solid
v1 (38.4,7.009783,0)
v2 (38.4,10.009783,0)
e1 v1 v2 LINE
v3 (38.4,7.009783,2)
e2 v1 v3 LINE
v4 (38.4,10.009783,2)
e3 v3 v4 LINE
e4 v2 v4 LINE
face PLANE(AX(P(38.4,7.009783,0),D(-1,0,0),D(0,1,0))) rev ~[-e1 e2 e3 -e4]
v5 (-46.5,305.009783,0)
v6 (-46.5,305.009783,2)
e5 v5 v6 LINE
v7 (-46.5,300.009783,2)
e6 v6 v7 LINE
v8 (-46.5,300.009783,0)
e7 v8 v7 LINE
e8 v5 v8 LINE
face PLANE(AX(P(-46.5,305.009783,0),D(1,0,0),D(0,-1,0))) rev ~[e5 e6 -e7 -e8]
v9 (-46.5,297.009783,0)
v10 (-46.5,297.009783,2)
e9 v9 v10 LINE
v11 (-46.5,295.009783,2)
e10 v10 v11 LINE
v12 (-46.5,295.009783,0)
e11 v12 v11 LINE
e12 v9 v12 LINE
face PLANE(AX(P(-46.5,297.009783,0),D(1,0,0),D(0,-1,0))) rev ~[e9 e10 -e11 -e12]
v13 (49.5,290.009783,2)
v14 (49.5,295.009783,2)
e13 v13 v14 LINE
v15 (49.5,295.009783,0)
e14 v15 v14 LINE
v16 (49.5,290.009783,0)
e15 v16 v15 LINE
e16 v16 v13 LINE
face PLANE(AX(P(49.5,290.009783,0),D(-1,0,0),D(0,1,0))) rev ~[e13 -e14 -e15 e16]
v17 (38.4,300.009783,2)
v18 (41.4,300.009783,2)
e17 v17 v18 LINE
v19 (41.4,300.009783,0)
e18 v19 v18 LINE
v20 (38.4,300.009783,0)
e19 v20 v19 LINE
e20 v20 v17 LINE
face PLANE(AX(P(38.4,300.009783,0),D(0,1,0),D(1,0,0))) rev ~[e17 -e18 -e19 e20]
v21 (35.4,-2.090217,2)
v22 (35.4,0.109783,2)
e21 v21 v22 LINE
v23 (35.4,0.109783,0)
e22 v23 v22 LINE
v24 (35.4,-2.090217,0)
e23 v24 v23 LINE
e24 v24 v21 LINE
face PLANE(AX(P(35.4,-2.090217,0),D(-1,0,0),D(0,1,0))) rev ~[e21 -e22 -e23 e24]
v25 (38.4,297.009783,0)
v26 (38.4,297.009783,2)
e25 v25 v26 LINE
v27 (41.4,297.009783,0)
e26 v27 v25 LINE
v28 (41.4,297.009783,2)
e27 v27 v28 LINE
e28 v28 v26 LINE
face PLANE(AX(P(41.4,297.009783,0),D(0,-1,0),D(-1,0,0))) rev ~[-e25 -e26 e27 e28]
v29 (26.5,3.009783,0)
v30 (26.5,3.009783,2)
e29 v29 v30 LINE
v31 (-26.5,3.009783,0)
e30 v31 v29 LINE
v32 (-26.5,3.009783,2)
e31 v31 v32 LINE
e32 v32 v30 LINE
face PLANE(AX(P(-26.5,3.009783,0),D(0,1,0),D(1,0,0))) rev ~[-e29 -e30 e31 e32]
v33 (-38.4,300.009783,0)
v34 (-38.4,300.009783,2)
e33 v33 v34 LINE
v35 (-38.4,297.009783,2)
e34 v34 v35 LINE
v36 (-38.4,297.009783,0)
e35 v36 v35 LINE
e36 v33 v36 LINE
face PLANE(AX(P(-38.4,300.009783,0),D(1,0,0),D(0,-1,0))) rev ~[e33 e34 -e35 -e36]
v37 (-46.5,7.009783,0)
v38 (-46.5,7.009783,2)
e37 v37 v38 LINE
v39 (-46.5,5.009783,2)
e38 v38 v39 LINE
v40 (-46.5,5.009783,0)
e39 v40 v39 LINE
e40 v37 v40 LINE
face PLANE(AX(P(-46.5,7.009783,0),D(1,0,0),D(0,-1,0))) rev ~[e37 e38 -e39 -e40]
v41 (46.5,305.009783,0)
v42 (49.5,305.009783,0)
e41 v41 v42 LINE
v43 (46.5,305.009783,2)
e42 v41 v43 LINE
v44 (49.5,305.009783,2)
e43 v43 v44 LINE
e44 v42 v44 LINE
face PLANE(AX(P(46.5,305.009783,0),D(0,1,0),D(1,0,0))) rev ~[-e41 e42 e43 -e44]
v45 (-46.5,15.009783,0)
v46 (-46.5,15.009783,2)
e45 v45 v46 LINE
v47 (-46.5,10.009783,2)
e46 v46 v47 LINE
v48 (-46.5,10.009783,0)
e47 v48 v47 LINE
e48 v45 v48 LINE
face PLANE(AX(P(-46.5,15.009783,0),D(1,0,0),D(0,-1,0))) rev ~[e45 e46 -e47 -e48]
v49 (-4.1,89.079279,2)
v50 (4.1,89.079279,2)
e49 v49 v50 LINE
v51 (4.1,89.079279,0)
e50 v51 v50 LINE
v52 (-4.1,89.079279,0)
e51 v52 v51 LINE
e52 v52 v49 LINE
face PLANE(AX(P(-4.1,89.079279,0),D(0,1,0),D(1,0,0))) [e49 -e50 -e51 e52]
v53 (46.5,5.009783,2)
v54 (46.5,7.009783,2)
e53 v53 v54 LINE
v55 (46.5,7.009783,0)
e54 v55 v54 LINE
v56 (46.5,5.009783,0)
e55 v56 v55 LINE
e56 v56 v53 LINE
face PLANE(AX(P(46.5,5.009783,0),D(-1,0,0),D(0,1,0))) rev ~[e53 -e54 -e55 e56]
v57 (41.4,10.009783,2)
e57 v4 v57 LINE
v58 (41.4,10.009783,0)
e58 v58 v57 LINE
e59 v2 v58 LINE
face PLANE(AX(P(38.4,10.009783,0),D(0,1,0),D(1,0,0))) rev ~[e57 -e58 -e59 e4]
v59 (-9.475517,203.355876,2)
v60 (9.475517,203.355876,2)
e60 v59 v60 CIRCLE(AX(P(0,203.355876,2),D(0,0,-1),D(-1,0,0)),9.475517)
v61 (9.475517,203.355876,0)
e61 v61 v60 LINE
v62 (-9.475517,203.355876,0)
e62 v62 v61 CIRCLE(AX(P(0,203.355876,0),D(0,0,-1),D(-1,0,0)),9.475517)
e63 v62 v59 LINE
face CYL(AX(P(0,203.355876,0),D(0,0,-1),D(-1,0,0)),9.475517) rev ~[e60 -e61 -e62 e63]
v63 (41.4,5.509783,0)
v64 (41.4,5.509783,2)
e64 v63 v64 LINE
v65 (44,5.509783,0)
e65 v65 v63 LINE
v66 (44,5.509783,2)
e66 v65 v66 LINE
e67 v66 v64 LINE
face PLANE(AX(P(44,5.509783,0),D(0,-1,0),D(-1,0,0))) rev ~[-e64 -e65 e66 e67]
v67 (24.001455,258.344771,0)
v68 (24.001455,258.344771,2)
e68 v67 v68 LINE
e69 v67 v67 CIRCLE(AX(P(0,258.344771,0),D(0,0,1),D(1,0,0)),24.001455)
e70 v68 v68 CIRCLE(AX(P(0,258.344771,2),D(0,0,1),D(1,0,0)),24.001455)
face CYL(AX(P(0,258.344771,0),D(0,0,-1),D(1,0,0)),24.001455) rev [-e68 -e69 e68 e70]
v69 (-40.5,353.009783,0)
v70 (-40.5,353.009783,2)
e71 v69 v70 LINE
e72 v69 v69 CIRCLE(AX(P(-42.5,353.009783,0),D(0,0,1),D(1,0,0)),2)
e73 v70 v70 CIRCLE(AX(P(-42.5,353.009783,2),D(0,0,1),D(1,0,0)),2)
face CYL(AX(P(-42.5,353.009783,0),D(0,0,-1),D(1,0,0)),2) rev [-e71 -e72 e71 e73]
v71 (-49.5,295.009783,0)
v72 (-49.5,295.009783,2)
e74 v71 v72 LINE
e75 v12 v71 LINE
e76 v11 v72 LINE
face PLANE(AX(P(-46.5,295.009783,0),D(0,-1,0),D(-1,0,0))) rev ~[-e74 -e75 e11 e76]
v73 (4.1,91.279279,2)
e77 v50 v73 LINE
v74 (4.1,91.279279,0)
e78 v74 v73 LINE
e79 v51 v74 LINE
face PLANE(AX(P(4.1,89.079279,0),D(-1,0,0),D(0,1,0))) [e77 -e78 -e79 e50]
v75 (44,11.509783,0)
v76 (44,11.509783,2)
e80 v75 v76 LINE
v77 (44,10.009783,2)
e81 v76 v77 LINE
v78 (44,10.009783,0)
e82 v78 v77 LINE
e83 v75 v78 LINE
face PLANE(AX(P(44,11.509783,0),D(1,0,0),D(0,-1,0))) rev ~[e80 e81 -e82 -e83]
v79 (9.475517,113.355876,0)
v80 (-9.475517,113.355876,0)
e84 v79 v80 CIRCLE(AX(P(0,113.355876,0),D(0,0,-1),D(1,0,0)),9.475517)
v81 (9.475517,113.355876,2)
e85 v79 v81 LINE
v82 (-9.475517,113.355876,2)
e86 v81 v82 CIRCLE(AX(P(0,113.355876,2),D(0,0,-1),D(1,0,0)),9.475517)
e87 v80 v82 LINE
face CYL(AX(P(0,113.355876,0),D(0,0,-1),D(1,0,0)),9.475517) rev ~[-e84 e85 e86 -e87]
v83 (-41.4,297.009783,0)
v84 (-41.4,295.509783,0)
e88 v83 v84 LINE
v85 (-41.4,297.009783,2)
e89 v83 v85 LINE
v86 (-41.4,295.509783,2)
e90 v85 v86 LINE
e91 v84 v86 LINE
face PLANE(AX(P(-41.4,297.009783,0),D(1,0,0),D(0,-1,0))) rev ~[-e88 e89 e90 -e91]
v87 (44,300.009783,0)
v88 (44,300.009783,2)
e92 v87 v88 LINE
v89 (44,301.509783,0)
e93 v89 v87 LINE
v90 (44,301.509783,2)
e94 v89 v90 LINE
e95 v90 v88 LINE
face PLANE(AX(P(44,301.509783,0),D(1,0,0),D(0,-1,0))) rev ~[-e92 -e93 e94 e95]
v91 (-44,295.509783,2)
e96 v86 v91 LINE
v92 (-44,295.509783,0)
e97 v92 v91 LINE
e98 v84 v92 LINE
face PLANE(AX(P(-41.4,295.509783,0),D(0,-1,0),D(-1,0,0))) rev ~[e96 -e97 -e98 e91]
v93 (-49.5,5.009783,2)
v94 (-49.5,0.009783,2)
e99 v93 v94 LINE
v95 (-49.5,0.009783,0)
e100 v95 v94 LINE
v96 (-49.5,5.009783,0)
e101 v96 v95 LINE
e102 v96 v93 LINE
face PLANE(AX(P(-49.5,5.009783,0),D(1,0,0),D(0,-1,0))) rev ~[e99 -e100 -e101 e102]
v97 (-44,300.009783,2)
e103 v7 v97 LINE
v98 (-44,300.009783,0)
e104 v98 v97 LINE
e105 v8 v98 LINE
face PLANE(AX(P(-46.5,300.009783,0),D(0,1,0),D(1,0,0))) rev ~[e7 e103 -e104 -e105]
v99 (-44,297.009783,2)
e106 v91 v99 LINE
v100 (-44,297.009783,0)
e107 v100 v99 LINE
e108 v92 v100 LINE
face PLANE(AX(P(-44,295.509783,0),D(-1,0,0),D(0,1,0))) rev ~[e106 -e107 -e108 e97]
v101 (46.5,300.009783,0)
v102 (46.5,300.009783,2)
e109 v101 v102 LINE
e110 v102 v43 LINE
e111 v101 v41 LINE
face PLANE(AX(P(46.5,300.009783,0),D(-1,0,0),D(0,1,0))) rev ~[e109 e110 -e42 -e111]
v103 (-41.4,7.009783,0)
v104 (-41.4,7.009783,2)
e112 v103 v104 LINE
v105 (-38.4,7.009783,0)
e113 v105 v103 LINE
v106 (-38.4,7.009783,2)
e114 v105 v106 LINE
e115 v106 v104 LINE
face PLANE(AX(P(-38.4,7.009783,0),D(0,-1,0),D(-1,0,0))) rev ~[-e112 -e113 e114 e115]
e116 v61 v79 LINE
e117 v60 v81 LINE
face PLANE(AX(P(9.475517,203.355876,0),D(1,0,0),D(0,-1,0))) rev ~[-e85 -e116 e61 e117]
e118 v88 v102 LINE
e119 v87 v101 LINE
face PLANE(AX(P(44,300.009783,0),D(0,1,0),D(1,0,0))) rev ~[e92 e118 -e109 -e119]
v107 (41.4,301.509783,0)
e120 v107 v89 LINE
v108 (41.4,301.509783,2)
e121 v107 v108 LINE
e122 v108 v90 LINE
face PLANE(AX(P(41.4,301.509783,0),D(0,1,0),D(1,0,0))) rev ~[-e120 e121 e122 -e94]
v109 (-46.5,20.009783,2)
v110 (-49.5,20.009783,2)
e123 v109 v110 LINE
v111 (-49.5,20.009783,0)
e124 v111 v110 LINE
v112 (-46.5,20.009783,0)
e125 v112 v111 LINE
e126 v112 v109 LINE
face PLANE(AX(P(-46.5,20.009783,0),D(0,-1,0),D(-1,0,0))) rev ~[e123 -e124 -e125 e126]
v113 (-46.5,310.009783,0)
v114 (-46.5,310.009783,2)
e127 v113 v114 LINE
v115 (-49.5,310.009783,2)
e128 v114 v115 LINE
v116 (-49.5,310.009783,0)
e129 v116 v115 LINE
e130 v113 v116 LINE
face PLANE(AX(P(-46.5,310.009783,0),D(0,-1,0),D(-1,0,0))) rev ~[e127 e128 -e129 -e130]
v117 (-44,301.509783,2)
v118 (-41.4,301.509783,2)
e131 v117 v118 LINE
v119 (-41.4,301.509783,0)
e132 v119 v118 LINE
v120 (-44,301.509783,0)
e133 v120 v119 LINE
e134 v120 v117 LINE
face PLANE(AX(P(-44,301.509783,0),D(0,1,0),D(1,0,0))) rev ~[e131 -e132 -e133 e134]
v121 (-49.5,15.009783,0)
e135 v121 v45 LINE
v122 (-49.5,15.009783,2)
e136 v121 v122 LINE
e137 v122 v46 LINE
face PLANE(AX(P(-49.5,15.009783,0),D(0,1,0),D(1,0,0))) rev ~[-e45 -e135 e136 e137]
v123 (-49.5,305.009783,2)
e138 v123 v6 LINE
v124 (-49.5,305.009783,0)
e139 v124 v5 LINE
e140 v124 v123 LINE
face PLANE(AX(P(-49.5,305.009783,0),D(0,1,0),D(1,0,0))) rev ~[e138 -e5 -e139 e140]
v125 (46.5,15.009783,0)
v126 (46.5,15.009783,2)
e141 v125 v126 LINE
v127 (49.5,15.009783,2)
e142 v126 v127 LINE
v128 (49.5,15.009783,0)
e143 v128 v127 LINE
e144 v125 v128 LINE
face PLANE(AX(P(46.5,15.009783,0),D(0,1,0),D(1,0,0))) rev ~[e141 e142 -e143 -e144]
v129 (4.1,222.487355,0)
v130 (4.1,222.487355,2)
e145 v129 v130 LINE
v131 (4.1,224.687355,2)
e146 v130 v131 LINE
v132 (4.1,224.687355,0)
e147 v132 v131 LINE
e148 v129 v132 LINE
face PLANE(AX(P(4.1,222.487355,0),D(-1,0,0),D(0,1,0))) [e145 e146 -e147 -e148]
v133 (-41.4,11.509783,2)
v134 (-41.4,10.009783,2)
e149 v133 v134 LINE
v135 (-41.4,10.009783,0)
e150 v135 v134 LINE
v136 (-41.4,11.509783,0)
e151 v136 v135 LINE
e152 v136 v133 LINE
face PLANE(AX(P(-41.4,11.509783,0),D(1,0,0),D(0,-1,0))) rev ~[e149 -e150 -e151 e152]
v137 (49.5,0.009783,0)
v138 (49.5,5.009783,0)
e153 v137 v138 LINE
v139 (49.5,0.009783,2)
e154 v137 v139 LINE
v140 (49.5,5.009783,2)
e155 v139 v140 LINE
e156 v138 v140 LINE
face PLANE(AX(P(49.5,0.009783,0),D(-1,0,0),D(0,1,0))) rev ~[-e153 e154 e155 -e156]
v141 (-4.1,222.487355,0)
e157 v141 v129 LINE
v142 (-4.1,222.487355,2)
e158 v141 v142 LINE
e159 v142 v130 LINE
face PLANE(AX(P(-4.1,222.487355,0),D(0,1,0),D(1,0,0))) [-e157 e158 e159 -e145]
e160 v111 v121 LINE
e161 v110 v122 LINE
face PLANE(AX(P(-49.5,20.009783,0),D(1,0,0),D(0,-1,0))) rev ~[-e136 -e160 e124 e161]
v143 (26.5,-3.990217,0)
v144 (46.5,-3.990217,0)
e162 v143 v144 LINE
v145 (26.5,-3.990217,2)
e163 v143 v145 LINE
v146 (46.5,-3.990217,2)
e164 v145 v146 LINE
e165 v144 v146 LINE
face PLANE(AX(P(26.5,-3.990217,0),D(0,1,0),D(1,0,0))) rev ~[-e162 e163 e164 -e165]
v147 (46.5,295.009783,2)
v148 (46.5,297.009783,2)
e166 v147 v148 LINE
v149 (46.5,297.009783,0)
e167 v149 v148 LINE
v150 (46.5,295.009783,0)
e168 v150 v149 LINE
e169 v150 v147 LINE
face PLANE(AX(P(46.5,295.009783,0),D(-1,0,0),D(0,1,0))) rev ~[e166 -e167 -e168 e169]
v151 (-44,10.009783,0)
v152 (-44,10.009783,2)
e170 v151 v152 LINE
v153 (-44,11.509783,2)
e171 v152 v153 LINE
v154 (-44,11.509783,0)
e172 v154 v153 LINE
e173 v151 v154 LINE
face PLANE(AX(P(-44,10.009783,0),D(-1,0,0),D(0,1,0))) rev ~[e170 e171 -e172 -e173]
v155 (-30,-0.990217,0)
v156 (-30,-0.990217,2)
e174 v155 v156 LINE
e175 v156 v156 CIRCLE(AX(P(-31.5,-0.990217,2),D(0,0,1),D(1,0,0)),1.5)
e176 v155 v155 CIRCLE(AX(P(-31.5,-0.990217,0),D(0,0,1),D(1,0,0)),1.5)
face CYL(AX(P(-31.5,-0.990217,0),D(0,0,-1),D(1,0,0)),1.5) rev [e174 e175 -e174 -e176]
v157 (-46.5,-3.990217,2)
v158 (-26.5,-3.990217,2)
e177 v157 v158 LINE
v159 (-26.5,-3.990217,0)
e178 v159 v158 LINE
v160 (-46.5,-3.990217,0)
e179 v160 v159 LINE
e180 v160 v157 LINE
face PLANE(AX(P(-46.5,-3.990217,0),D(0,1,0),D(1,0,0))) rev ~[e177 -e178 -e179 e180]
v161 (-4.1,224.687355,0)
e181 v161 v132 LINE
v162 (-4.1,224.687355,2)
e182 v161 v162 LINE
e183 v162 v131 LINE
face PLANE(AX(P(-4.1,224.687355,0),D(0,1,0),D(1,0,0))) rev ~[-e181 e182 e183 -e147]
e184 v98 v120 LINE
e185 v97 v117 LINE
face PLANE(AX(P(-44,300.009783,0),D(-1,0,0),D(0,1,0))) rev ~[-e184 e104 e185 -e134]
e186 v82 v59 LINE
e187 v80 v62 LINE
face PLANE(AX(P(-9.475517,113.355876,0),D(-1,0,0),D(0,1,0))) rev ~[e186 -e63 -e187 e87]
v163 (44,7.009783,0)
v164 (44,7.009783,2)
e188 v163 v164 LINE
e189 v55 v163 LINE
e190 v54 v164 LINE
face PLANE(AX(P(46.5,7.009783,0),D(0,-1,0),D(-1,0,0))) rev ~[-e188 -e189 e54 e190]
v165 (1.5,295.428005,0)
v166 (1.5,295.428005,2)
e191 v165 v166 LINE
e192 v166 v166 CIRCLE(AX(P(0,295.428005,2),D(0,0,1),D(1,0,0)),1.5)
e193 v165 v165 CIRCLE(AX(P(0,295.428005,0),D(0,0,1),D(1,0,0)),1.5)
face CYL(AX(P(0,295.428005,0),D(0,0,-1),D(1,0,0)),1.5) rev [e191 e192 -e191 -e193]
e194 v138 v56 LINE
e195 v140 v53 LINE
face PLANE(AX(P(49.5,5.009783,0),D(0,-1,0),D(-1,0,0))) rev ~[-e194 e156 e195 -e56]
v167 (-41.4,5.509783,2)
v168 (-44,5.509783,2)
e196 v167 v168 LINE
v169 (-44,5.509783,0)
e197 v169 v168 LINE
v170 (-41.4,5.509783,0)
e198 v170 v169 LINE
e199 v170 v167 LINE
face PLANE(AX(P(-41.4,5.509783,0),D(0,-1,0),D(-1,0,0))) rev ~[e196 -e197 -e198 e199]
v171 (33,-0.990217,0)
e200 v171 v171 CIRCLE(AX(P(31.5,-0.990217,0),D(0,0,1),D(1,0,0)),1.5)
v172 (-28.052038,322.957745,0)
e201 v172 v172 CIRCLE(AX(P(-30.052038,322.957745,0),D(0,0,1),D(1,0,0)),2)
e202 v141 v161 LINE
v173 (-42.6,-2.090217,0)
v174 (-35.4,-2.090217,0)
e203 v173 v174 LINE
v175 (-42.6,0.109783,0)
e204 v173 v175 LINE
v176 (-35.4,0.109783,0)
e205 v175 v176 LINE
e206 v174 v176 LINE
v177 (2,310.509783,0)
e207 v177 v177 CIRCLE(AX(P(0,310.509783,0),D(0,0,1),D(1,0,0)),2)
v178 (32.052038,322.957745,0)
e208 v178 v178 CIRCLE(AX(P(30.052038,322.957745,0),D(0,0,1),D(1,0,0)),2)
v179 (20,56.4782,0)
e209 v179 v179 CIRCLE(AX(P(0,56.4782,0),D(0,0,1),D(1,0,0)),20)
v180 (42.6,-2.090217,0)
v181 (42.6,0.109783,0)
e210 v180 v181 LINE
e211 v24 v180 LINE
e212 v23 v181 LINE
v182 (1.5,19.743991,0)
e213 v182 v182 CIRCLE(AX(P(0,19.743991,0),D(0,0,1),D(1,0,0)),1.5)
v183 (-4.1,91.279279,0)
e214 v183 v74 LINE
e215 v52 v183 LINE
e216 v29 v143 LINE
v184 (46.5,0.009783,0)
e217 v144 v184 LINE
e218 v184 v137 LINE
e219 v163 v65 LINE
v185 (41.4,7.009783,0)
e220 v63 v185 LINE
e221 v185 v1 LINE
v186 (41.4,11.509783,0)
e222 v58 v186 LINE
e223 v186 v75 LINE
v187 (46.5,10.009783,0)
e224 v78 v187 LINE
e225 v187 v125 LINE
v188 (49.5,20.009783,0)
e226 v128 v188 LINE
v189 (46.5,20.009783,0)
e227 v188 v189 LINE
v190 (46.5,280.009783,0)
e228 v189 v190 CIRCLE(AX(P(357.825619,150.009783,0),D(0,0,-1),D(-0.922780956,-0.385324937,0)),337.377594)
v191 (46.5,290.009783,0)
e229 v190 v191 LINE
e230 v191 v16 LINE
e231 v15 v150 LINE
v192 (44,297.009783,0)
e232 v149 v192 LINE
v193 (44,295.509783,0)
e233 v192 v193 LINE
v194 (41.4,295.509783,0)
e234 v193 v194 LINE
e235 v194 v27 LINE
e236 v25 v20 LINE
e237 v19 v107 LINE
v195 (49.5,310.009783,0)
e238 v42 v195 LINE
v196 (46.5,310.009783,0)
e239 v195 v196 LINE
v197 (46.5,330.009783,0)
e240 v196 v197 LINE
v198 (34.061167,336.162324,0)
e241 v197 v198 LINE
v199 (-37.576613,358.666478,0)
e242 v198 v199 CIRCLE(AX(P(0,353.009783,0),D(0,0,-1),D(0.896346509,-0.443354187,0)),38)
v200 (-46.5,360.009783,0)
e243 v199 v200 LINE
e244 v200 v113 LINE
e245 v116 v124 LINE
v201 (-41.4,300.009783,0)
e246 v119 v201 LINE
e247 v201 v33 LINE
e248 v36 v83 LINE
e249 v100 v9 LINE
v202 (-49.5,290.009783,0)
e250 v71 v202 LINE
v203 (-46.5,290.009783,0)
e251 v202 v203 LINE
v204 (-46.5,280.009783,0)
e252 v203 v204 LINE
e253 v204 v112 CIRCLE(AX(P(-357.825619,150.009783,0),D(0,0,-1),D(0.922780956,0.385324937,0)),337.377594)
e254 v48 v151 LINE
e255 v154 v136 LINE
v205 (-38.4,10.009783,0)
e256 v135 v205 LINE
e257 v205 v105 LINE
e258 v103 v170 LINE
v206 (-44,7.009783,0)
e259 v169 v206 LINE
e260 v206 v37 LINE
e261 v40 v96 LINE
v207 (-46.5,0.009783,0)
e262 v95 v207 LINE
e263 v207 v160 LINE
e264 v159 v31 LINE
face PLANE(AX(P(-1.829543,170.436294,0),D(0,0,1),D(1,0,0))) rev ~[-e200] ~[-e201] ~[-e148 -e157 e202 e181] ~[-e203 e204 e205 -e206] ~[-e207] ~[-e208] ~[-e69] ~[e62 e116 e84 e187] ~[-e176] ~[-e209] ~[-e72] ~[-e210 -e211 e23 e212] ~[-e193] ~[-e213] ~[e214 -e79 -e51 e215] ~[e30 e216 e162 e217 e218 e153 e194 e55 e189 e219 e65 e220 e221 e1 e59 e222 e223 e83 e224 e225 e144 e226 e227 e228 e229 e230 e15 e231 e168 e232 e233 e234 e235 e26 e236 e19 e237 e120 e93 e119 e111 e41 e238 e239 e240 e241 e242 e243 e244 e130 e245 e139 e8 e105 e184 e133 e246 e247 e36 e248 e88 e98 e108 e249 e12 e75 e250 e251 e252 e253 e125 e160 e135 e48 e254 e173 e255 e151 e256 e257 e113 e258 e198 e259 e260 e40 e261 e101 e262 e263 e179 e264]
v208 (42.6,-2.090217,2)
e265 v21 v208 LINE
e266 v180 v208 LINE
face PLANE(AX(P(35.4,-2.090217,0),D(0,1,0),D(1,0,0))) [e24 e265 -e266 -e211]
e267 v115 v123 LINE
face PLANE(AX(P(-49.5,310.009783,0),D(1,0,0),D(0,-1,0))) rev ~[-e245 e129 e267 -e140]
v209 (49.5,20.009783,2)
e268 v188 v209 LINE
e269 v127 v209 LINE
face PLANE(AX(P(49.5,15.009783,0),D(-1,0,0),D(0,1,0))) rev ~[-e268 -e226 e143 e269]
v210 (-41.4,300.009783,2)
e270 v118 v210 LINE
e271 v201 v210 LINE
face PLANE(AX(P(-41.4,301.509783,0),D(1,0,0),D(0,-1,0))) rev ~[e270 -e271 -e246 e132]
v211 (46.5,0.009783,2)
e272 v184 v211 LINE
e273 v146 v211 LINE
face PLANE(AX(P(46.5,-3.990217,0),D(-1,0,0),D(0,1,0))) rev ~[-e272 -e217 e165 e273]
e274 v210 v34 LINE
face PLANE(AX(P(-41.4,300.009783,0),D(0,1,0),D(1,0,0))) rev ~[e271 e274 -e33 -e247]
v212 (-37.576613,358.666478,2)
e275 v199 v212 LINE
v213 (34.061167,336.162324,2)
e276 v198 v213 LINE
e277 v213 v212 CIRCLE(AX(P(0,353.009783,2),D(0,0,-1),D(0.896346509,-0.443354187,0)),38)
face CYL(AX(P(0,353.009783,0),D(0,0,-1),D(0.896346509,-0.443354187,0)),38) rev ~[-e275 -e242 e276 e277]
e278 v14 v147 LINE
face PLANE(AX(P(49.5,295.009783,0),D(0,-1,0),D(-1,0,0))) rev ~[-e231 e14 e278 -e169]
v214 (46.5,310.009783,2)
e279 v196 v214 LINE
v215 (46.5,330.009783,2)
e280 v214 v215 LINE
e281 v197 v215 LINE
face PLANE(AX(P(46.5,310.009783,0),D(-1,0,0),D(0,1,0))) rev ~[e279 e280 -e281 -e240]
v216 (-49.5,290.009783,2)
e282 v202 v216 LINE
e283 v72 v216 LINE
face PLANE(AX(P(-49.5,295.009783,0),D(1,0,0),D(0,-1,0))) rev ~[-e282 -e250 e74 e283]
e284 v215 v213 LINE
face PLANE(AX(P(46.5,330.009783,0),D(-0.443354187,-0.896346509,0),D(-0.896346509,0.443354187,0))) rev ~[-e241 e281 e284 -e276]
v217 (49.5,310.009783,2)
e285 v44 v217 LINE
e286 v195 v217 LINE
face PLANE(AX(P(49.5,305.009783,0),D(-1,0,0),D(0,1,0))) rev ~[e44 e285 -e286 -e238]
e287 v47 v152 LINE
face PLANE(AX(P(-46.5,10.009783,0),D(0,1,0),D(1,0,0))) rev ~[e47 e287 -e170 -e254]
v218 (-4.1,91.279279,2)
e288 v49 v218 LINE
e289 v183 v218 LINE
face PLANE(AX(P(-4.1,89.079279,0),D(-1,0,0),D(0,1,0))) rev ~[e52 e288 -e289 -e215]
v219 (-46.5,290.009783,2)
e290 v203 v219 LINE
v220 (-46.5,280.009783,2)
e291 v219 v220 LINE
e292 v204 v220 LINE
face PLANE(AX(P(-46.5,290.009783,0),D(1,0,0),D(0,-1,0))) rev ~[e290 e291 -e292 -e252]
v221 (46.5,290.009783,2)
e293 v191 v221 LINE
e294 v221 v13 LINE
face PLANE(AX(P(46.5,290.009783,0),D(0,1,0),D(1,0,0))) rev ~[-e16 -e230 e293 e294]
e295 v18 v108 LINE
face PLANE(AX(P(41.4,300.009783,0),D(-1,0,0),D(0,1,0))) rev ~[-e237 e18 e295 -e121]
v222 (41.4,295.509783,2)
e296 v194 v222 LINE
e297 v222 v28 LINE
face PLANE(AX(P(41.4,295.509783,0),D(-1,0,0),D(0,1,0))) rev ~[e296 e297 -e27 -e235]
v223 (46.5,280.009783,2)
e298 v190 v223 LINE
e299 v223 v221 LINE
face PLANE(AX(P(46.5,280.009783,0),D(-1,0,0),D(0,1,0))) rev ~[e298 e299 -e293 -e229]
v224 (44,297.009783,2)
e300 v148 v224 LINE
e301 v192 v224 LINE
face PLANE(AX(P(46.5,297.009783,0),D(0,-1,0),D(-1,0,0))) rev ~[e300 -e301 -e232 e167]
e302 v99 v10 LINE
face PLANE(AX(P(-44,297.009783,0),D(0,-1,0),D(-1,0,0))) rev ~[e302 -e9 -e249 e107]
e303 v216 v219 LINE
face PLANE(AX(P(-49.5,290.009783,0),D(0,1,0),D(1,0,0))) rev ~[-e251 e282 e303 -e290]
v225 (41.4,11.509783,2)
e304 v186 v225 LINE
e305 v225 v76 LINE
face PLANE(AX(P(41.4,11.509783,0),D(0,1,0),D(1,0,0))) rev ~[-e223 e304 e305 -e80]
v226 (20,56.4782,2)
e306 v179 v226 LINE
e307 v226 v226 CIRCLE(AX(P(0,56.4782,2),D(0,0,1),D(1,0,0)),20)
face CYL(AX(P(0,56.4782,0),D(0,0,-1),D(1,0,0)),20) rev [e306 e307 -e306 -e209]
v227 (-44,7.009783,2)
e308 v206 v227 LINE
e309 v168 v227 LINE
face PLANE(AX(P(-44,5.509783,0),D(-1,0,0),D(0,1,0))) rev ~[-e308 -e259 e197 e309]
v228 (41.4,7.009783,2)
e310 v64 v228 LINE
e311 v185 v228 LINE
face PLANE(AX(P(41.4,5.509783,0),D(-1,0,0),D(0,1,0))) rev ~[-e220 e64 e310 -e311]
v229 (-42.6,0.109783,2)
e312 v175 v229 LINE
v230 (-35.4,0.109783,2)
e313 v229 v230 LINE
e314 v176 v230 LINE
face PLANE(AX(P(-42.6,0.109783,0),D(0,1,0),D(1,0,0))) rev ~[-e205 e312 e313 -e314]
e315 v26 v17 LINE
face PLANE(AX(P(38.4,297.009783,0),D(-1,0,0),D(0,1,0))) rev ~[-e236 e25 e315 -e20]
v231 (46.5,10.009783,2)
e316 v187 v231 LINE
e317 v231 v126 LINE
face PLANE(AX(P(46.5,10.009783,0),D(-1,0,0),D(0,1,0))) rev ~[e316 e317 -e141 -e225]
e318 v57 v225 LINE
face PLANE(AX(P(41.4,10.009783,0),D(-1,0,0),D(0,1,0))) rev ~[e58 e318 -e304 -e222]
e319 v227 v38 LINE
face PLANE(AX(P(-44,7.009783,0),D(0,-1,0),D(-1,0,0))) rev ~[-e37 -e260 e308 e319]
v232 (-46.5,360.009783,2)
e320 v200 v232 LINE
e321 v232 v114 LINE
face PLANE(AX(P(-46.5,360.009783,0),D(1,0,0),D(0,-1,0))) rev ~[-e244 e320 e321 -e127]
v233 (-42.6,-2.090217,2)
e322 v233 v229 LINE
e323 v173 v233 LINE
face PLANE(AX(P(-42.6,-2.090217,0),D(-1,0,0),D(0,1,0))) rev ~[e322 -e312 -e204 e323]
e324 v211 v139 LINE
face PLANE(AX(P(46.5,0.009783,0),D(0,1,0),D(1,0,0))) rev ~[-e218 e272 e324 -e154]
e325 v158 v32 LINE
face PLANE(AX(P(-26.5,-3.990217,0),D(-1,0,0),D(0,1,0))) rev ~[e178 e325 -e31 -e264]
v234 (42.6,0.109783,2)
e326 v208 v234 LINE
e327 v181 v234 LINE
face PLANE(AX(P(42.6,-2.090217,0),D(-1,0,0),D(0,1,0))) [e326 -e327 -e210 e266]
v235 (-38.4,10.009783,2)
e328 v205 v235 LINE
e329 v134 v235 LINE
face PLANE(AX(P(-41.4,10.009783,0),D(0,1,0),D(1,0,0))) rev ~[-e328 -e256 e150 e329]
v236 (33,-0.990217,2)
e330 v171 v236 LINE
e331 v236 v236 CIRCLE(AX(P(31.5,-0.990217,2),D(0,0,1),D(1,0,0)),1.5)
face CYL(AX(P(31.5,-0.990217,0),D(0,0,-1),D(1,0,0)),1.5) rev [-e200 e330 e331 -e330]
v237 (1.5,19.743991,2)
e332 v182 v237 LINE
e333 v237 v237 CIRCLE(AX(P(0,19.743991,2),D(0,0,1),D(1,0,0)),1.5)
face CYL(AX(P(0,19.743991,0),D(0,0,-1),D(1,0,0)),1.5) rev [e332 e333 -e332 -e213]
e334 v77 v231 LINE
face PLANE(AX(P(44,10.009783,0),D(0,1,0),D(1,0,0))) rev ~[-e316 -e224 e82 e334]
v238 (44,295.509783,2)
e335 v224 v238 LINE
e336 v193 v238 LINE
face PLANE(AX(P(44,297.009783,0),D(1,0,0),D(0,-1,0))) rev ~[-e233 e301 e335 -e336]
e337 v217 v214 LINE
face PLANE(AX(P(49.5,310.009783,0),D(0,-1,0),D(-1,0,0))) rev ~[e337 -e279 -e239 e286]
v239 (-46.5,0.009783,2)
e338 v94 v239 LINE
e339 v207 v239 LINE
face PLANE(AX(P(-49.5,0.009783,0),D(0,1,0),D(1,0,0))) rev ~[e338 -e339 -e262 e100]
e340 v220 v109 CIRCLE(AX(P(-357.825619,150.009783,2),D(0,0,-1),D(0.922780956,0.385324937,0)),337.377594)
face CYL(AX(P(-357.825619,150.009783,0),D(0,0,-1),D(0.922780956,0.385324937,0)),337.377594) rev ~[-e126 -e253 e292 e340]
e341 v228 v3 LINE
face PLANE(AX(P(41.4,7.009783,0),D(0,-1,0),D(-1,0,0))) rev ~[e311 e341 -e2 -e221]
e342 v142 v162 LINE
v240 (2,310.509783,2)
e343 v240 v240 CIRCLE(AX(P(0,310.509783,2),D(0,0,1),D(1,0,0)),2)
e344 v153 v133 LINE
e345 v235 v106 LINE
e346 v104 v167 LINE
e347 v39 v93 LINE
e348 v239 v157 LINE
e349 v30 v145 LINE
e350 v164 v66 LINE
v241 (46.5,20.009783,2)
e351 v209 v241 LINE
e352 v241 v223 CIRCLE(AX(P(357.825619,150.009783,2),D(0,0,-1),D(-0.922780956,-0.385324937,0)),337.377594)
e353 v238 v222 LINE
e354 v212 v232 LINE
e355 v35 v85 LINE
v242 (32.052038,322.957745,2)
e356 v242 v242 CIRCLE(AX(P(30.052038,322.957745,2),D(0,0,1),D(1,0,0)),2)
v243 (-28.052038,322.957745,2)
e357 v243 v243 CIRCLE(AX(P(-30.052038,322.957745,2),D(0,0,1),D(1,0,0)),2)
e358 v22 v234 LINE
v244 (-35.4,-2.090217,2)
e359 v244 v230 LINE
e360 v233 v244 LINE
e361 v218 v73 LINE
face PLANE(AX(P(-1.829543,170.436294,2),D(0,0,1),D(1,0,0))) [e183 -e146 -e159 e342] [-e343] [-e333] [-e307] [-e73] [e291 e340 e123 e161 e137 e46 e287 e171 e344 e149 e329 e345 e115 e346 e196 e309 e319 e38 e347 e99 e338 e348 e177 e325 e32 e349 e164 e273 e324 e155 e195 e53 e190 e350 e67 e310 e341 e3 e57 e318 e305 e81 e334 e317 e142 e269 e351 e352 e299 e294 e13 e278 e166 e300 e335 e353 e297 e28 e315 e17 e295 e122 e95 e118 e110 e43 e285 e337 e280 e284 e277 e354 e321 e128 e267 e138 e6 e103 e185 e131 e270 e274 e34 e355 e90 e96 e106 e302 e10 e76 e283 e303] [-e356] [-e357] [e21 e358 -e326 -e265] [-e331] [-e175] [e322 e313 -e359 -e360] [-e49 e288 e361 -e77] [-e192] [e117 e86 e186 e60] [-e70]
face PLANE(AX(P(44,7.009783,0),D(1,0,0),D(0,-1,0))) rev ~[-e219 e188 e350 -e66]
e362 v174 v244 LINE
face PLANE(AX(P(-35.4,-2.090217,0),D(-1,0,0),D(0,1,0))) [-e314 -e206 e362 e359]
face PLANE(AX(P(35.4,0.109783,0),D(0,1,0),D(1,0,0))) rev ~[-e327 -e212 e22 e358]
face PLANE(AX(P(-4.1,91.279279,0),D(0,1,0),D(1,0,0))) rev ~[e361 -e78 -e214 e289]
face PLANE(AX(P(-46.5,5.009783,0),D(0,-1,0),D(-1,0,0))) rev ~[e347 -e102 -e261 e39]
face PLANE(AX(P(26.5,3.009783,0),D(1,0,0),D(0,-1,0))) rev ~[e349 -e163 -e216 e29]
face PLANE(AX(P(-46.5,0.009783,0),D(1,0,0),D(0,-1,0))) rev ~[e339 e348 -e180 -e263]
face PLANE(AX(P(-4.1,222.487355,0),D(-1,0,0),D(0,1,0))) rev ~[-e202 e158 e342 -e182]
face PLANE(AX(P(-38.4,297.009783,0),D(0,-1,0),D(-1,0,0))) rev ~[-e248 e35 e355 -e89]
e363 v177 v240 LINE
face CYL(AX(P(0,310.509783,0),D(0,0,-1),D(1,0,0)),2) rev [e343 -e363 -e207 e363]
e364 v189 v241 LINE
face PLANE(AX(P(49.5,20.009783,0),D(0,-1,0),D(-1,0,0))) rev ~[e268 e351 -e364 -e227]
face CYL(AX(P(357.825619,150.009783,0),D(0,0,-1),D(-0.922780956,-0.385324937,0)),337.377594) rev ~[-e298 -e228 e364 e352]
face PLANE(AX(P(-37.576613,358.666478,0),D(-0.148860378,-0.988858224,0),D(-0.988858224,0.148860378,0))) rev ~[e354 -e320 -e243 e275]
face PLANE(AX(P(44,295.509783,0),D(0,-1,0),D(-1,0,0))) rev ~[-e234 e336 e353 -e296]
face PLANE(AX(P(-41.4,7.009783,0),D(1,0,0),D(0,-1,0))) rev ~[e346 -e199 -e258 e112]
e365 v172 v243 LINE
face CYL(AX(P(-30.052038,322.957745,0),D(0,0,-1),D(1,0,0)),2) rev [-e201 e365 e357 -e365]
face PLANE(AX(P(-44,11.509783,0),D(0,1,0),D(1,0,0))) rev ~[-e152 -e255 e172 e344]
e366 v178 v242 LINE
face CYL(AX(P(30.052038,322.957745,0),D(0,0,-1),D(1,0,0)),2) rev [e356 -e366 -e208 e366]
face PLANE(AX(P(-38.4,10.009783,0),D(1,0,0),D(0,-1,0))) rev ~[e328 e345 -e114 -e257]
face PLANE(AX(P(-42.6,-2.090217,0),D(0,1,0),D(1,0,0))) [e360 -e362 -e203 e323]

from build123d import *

# Parameters (mm, degrees)
SKETCH_3_R      = 1.5
SKETCH_3_R_2    = 2
SKETCH_3_R_3    = 24.001454592
SKETCH_3_R_4    = 20
SKETCH_3_W      = 7.2
SKETCH_3_H      = 2.2
SKETCH_3_W_2    = 8.2
EXTRUDE_1_DEPTH = 2


with BuildPart() as part:
    # 草图3 → 凸台-拉伸1 (new body)
    with BuildSketch(Plane.XY):
        with BuildLine():
            Line((-46.5, 360.009783315), (-46.5, 310.009783315))
            Line((-46.5, 310.009783315), (-49.5, 310.009783315))
            Line((-49.5, 310.009783315), (-49.5, 305.009783315))
            Line((-49.5, 305.009783315), (-46.5, 305.009783315))
            Line((-46.5, 305.009783315), (-46.5, 300.009783315))
            Line((-46.5, 300.009783315), (-44, 300.009783315))
            Line((-44, 300.009783315), (-44, 301.509783315))
            Line((-44, 301.509783315), (-41.4, 301.509783315))
            Line((-41.4, 301.509783315), (-41.4, 300.009783315))
            Line((-41.4, 300.009783315), (-38.4, 300.009783315))
            Line((-38.4, 300.009783315), (-38.4, 297.009783315))
            Line((-38.4, 297.009783315), (-41.4, 297.009783315))
            Line((-41.4, 297.009783315), (-41.4, 295.509783315))
            Line((-41.4, 295.509783315), (-44, 295.509783315))
            Line((-44, 295.509783315), (-44, 297.009783315))
            Line((-44, 297.009783315), (-46.5, 297.009783315))
            Line((-46.5, 297.009783315), (-46.5, 295.009783315))
            Line((-46.5, 295.009783315), (-49.5, 295.009783315))
            Line((-49.5, 295.009783315), (-49.5, 290.009783315))
            Line((-49.5, 290.009783315), (-46.5, 290.009783315))
            Line((-46.5, 290.009783315), (-46.5, 280.009783315))
            ThreePointArc((-46.5, 280.009783315), (-20.448024821, 150.009783315), (-46.5, 20.009783315))
            Line((-46.5, 20.009783315), (-49.5, 20.009783315))
            Line((-49.5, 20.009783315), (-49.5, 15.009783315))
            Line((-49.5, 15.009783315), (-46.5, 15.009783315))
            Line((-46.5, 15.009783315), (-46.5, 10.009783315))
            Line((-46.5, 10.009783315), (-44, 10.009783315))
            Line((-44, 10.009783315), (-44, 11.509783315))
            Line((-44, 11.509783315), (-41.4, 11.509783315))
            Line((-41.4, 11.509783315), (-41.4, 10.009783315))
            Line((-41.4, 10.009783315), (-38.4, 10.009783315))
            Line((-38.4, 10.009783315), (-38.4, 7.009783315))
            Line((-38.4, 7.009783315), (-41.4, 7.009783315))
            Line((-41.4, 7.009783315), (-41.4, 5.509783315))
            Line((-41.4, 5.509783315), (-44, 5.509783315))
            Line((-44, 5.509783315), (-44, 7.009783315))
            Line((-44, 7.009783315), (-46.5, 7.009783315))
            Line((-46.5, 7.009783315), (-46.5, 5.009783315))
            Line((-46.5, 5.009783315), (-49.5, 5.009783315))
            Line((-49.5, 5.009783315), (-49.5, 0.009783315))
            Line((-49.5, 0.009783315), (-46.5, 0.009783315))
            Line((-46.5, 0.009783315), (-46.5, -3.990216685))
            Line((-46.5, -3.990216685), (-26.5, -3.990216685))
            Line((-26.5, -3.990216685), (-26.5, 3.009783315))
            Line((-26.5, 3.009783315), (26.5, 3.009783315))
            Line((26.5, 3.009783315), (26.5, -3.990216685))
            Line((26.5, -3.990216685), (46.5, -3.990216685))
            Line((46.5, -3.990216685), (46.5, 0.009783315))
            Line((46.5, 0.009783315), (49.5, 0.009783315))
            Line((49.5, 0.009783315), (49.5, 5.009783315))
            Line((49.5, 5.009783315), (46.5, 5.009783315))
            Line((46.5, 5.009783315), (46.5, 7.009783315))
            Line((46.5, 7.009783315), (44, 7.009783315))
            Line((44, 7.009783315), (44, 5.509783315))
            Line((44, 5.509783315), (41.4, 5.509783315))
            Line((41.4, 5.509783315), (41.4, 7.009783315))
            Line((41.4, 7.009783315), (38.4, 7.009783315))
            Line((38.4, 7.009783315), (38.4, 10.009783315))
            Line((38.4, 10.009783315), (41.4, 10.009783315))
            Line((41.4, 10.009783315), (41.4, 11.509783315))
            Line((41.4, 11.509783315), (44, 11.509783315))
            Line((44, 11.509783315), (44, 10.009783315))
            Line((44, 10.009783315), (46.5, 10.009783315))
            Line((46.5, 10.009783315), (46.5, 15.009783315))
            Line((46.5, 15.009783315), (49.5, 15.009783315))
            Line((49.5, 15.009783315), (49.5, 20.009783315))
            Line((49.5, 20.009783315), (46.5, 20.009783315))
            ThreePointArc((46.5, 20.009783315), (20.448024821, 150.009783315), (46.5, 280.009783315))
            Line((46.5, 280.009783315), (46.5, 290.009783315))
            Line((46.5, 290.009783315), (49.5, 290.009783315))
            Line((49.5, 290.009783315), (49.5, 295.009783315))
            Line((49.5, 295.009783315), (46.5, 295.009783315))
            Line((46.5, 295.009783315), (46.5, 297.009783315))
            Line((46.5, 297.009783315), (44, 297.009783315))
            Line((44, 297.009783315), (44, 295.509783315))
            Line((44, 295.509783315), (41.4, 295.509783315))
            Line((41.4, 295.509783315), (41.4, 297.009783315))
            Line((41.4, 297.009783315), (38.4, 297.009783315))
            Line((38.4, 297.009783315), (38.4, 300.009783315))
            Line((38.4, 300.009783315), (41.4, 300.009783315))
            Line((41.4, 300.009783315), (41.4, 301.509783315))
            Line((41.4, 301.509783315), (44, 301.509783315))
            Line((44, 301.509783315), (44, 300.009783315))
            Line((44, 300.009783315), (46.5, 300.009783315))
            Line((46.5, 300.009783315), (46.5, 305.009783315))
            Line((46.5, 305.009783315), (49.5, 305.009783315))
            Line((49.5, 305.009783315), (49.5, 310.009783315))
            Line((49.5, 310.009783315), (46.5, 310.009783315))
            Line((46.5, 310.009783315), (46.5, 330.009783315))
            Line((46.5, 330.009783315), (34.06116735, 336.162324196))
            ThreePointArc((34.06116735, 336.162324196), (-11.38853896, 316.756491321), (-37.576612526, 358.666477673))
            Line((-37.576612526, 358.666477673), (-46.5, 360.009783315))
        make_face()
        with Locations((-31.5, -0.990216685)):
            Circle(SKETCH_3_R, mode=Mode.SUBTRACT)
        with Locations((31.5, -0.990216685)):
            Circle(SKETCH_3_R, mode=Mode.SUBTRACT)
        with Locations((0, 310.509783315)):
            Circle(SKETCH_3_R_2, mode=Mode.SUBTRACT)
        with Locations((-30.0520382, 322.957745114)):
            Circle(SKETCH_3_R_2, mode=Mode.SUBTRACT)
        with Locations((-42.5, 353.009783315)):
            Circle(SKETCH_3_R_2, mode=Mode.SUBTRACT)
        with Locations((30.0520382, 322.957745114)):
            Circle(SKETCH_3_R_2, mode=Mode.SUBTRACT)
        with Locations((0, 258.344771167)):
            Circle(SKETCH_3_R_3, mode=Mode.SUBTRACT)
        with Locations((0, 56.478199566)):
            Circle(SKETCH_3_R_4, mode=Mode.SUBTRACT)
        with Locations((0, 19.74399144)):
            Circle(SKETCH_3_R, mode=Mode.SUBTRACT)
        with Locations((0, 295.428004537)):
            Circle(SKETCH_3_R, mode=Mode.SUBTRACT)
        with Locations((-39, -0.990216685)):
            Rectangle(SKETCH_3_W, SKETCH_3_H, mode=Mode.SUBTRACT)
        with Locations((39, -0.990216685)):
            Rectangle(SKETCH_3_W, SKETCH_3_H, mode=Mode.SUBTRACT)
        with BuildLine():
            Line((-9.475517085, 113.355875718), (-9.475517085, 203.355875718))
            ThreePointArc((-9.475517085, 203.355875718), (0, 212.831392803), (9.475517085, 203.355875718))
            Line((9.475517085, 203.355875718), (9.475517085, 113.355875718))
            ThreePointArc((9.475517085, 113.355875718), (0, 103.880358633), (-9.475517085, 113.355875718))
        make_face(mode=Mode.SUBTRACT)
        with Locations((0, 90.179279099)):
            Rectangle(SKETCH_3_W_2, SKETCH_3_H, mode=Mode.SUBTRACT)
        with Locations((0, 223.587354689)):
            Rectangle(SKETCH_3_W_2, SKETCH_3_H, mode=Mode.SUBTRACT)
    extrude(amount=EXTRUDE_1_DEPTH)


solid = part.part
